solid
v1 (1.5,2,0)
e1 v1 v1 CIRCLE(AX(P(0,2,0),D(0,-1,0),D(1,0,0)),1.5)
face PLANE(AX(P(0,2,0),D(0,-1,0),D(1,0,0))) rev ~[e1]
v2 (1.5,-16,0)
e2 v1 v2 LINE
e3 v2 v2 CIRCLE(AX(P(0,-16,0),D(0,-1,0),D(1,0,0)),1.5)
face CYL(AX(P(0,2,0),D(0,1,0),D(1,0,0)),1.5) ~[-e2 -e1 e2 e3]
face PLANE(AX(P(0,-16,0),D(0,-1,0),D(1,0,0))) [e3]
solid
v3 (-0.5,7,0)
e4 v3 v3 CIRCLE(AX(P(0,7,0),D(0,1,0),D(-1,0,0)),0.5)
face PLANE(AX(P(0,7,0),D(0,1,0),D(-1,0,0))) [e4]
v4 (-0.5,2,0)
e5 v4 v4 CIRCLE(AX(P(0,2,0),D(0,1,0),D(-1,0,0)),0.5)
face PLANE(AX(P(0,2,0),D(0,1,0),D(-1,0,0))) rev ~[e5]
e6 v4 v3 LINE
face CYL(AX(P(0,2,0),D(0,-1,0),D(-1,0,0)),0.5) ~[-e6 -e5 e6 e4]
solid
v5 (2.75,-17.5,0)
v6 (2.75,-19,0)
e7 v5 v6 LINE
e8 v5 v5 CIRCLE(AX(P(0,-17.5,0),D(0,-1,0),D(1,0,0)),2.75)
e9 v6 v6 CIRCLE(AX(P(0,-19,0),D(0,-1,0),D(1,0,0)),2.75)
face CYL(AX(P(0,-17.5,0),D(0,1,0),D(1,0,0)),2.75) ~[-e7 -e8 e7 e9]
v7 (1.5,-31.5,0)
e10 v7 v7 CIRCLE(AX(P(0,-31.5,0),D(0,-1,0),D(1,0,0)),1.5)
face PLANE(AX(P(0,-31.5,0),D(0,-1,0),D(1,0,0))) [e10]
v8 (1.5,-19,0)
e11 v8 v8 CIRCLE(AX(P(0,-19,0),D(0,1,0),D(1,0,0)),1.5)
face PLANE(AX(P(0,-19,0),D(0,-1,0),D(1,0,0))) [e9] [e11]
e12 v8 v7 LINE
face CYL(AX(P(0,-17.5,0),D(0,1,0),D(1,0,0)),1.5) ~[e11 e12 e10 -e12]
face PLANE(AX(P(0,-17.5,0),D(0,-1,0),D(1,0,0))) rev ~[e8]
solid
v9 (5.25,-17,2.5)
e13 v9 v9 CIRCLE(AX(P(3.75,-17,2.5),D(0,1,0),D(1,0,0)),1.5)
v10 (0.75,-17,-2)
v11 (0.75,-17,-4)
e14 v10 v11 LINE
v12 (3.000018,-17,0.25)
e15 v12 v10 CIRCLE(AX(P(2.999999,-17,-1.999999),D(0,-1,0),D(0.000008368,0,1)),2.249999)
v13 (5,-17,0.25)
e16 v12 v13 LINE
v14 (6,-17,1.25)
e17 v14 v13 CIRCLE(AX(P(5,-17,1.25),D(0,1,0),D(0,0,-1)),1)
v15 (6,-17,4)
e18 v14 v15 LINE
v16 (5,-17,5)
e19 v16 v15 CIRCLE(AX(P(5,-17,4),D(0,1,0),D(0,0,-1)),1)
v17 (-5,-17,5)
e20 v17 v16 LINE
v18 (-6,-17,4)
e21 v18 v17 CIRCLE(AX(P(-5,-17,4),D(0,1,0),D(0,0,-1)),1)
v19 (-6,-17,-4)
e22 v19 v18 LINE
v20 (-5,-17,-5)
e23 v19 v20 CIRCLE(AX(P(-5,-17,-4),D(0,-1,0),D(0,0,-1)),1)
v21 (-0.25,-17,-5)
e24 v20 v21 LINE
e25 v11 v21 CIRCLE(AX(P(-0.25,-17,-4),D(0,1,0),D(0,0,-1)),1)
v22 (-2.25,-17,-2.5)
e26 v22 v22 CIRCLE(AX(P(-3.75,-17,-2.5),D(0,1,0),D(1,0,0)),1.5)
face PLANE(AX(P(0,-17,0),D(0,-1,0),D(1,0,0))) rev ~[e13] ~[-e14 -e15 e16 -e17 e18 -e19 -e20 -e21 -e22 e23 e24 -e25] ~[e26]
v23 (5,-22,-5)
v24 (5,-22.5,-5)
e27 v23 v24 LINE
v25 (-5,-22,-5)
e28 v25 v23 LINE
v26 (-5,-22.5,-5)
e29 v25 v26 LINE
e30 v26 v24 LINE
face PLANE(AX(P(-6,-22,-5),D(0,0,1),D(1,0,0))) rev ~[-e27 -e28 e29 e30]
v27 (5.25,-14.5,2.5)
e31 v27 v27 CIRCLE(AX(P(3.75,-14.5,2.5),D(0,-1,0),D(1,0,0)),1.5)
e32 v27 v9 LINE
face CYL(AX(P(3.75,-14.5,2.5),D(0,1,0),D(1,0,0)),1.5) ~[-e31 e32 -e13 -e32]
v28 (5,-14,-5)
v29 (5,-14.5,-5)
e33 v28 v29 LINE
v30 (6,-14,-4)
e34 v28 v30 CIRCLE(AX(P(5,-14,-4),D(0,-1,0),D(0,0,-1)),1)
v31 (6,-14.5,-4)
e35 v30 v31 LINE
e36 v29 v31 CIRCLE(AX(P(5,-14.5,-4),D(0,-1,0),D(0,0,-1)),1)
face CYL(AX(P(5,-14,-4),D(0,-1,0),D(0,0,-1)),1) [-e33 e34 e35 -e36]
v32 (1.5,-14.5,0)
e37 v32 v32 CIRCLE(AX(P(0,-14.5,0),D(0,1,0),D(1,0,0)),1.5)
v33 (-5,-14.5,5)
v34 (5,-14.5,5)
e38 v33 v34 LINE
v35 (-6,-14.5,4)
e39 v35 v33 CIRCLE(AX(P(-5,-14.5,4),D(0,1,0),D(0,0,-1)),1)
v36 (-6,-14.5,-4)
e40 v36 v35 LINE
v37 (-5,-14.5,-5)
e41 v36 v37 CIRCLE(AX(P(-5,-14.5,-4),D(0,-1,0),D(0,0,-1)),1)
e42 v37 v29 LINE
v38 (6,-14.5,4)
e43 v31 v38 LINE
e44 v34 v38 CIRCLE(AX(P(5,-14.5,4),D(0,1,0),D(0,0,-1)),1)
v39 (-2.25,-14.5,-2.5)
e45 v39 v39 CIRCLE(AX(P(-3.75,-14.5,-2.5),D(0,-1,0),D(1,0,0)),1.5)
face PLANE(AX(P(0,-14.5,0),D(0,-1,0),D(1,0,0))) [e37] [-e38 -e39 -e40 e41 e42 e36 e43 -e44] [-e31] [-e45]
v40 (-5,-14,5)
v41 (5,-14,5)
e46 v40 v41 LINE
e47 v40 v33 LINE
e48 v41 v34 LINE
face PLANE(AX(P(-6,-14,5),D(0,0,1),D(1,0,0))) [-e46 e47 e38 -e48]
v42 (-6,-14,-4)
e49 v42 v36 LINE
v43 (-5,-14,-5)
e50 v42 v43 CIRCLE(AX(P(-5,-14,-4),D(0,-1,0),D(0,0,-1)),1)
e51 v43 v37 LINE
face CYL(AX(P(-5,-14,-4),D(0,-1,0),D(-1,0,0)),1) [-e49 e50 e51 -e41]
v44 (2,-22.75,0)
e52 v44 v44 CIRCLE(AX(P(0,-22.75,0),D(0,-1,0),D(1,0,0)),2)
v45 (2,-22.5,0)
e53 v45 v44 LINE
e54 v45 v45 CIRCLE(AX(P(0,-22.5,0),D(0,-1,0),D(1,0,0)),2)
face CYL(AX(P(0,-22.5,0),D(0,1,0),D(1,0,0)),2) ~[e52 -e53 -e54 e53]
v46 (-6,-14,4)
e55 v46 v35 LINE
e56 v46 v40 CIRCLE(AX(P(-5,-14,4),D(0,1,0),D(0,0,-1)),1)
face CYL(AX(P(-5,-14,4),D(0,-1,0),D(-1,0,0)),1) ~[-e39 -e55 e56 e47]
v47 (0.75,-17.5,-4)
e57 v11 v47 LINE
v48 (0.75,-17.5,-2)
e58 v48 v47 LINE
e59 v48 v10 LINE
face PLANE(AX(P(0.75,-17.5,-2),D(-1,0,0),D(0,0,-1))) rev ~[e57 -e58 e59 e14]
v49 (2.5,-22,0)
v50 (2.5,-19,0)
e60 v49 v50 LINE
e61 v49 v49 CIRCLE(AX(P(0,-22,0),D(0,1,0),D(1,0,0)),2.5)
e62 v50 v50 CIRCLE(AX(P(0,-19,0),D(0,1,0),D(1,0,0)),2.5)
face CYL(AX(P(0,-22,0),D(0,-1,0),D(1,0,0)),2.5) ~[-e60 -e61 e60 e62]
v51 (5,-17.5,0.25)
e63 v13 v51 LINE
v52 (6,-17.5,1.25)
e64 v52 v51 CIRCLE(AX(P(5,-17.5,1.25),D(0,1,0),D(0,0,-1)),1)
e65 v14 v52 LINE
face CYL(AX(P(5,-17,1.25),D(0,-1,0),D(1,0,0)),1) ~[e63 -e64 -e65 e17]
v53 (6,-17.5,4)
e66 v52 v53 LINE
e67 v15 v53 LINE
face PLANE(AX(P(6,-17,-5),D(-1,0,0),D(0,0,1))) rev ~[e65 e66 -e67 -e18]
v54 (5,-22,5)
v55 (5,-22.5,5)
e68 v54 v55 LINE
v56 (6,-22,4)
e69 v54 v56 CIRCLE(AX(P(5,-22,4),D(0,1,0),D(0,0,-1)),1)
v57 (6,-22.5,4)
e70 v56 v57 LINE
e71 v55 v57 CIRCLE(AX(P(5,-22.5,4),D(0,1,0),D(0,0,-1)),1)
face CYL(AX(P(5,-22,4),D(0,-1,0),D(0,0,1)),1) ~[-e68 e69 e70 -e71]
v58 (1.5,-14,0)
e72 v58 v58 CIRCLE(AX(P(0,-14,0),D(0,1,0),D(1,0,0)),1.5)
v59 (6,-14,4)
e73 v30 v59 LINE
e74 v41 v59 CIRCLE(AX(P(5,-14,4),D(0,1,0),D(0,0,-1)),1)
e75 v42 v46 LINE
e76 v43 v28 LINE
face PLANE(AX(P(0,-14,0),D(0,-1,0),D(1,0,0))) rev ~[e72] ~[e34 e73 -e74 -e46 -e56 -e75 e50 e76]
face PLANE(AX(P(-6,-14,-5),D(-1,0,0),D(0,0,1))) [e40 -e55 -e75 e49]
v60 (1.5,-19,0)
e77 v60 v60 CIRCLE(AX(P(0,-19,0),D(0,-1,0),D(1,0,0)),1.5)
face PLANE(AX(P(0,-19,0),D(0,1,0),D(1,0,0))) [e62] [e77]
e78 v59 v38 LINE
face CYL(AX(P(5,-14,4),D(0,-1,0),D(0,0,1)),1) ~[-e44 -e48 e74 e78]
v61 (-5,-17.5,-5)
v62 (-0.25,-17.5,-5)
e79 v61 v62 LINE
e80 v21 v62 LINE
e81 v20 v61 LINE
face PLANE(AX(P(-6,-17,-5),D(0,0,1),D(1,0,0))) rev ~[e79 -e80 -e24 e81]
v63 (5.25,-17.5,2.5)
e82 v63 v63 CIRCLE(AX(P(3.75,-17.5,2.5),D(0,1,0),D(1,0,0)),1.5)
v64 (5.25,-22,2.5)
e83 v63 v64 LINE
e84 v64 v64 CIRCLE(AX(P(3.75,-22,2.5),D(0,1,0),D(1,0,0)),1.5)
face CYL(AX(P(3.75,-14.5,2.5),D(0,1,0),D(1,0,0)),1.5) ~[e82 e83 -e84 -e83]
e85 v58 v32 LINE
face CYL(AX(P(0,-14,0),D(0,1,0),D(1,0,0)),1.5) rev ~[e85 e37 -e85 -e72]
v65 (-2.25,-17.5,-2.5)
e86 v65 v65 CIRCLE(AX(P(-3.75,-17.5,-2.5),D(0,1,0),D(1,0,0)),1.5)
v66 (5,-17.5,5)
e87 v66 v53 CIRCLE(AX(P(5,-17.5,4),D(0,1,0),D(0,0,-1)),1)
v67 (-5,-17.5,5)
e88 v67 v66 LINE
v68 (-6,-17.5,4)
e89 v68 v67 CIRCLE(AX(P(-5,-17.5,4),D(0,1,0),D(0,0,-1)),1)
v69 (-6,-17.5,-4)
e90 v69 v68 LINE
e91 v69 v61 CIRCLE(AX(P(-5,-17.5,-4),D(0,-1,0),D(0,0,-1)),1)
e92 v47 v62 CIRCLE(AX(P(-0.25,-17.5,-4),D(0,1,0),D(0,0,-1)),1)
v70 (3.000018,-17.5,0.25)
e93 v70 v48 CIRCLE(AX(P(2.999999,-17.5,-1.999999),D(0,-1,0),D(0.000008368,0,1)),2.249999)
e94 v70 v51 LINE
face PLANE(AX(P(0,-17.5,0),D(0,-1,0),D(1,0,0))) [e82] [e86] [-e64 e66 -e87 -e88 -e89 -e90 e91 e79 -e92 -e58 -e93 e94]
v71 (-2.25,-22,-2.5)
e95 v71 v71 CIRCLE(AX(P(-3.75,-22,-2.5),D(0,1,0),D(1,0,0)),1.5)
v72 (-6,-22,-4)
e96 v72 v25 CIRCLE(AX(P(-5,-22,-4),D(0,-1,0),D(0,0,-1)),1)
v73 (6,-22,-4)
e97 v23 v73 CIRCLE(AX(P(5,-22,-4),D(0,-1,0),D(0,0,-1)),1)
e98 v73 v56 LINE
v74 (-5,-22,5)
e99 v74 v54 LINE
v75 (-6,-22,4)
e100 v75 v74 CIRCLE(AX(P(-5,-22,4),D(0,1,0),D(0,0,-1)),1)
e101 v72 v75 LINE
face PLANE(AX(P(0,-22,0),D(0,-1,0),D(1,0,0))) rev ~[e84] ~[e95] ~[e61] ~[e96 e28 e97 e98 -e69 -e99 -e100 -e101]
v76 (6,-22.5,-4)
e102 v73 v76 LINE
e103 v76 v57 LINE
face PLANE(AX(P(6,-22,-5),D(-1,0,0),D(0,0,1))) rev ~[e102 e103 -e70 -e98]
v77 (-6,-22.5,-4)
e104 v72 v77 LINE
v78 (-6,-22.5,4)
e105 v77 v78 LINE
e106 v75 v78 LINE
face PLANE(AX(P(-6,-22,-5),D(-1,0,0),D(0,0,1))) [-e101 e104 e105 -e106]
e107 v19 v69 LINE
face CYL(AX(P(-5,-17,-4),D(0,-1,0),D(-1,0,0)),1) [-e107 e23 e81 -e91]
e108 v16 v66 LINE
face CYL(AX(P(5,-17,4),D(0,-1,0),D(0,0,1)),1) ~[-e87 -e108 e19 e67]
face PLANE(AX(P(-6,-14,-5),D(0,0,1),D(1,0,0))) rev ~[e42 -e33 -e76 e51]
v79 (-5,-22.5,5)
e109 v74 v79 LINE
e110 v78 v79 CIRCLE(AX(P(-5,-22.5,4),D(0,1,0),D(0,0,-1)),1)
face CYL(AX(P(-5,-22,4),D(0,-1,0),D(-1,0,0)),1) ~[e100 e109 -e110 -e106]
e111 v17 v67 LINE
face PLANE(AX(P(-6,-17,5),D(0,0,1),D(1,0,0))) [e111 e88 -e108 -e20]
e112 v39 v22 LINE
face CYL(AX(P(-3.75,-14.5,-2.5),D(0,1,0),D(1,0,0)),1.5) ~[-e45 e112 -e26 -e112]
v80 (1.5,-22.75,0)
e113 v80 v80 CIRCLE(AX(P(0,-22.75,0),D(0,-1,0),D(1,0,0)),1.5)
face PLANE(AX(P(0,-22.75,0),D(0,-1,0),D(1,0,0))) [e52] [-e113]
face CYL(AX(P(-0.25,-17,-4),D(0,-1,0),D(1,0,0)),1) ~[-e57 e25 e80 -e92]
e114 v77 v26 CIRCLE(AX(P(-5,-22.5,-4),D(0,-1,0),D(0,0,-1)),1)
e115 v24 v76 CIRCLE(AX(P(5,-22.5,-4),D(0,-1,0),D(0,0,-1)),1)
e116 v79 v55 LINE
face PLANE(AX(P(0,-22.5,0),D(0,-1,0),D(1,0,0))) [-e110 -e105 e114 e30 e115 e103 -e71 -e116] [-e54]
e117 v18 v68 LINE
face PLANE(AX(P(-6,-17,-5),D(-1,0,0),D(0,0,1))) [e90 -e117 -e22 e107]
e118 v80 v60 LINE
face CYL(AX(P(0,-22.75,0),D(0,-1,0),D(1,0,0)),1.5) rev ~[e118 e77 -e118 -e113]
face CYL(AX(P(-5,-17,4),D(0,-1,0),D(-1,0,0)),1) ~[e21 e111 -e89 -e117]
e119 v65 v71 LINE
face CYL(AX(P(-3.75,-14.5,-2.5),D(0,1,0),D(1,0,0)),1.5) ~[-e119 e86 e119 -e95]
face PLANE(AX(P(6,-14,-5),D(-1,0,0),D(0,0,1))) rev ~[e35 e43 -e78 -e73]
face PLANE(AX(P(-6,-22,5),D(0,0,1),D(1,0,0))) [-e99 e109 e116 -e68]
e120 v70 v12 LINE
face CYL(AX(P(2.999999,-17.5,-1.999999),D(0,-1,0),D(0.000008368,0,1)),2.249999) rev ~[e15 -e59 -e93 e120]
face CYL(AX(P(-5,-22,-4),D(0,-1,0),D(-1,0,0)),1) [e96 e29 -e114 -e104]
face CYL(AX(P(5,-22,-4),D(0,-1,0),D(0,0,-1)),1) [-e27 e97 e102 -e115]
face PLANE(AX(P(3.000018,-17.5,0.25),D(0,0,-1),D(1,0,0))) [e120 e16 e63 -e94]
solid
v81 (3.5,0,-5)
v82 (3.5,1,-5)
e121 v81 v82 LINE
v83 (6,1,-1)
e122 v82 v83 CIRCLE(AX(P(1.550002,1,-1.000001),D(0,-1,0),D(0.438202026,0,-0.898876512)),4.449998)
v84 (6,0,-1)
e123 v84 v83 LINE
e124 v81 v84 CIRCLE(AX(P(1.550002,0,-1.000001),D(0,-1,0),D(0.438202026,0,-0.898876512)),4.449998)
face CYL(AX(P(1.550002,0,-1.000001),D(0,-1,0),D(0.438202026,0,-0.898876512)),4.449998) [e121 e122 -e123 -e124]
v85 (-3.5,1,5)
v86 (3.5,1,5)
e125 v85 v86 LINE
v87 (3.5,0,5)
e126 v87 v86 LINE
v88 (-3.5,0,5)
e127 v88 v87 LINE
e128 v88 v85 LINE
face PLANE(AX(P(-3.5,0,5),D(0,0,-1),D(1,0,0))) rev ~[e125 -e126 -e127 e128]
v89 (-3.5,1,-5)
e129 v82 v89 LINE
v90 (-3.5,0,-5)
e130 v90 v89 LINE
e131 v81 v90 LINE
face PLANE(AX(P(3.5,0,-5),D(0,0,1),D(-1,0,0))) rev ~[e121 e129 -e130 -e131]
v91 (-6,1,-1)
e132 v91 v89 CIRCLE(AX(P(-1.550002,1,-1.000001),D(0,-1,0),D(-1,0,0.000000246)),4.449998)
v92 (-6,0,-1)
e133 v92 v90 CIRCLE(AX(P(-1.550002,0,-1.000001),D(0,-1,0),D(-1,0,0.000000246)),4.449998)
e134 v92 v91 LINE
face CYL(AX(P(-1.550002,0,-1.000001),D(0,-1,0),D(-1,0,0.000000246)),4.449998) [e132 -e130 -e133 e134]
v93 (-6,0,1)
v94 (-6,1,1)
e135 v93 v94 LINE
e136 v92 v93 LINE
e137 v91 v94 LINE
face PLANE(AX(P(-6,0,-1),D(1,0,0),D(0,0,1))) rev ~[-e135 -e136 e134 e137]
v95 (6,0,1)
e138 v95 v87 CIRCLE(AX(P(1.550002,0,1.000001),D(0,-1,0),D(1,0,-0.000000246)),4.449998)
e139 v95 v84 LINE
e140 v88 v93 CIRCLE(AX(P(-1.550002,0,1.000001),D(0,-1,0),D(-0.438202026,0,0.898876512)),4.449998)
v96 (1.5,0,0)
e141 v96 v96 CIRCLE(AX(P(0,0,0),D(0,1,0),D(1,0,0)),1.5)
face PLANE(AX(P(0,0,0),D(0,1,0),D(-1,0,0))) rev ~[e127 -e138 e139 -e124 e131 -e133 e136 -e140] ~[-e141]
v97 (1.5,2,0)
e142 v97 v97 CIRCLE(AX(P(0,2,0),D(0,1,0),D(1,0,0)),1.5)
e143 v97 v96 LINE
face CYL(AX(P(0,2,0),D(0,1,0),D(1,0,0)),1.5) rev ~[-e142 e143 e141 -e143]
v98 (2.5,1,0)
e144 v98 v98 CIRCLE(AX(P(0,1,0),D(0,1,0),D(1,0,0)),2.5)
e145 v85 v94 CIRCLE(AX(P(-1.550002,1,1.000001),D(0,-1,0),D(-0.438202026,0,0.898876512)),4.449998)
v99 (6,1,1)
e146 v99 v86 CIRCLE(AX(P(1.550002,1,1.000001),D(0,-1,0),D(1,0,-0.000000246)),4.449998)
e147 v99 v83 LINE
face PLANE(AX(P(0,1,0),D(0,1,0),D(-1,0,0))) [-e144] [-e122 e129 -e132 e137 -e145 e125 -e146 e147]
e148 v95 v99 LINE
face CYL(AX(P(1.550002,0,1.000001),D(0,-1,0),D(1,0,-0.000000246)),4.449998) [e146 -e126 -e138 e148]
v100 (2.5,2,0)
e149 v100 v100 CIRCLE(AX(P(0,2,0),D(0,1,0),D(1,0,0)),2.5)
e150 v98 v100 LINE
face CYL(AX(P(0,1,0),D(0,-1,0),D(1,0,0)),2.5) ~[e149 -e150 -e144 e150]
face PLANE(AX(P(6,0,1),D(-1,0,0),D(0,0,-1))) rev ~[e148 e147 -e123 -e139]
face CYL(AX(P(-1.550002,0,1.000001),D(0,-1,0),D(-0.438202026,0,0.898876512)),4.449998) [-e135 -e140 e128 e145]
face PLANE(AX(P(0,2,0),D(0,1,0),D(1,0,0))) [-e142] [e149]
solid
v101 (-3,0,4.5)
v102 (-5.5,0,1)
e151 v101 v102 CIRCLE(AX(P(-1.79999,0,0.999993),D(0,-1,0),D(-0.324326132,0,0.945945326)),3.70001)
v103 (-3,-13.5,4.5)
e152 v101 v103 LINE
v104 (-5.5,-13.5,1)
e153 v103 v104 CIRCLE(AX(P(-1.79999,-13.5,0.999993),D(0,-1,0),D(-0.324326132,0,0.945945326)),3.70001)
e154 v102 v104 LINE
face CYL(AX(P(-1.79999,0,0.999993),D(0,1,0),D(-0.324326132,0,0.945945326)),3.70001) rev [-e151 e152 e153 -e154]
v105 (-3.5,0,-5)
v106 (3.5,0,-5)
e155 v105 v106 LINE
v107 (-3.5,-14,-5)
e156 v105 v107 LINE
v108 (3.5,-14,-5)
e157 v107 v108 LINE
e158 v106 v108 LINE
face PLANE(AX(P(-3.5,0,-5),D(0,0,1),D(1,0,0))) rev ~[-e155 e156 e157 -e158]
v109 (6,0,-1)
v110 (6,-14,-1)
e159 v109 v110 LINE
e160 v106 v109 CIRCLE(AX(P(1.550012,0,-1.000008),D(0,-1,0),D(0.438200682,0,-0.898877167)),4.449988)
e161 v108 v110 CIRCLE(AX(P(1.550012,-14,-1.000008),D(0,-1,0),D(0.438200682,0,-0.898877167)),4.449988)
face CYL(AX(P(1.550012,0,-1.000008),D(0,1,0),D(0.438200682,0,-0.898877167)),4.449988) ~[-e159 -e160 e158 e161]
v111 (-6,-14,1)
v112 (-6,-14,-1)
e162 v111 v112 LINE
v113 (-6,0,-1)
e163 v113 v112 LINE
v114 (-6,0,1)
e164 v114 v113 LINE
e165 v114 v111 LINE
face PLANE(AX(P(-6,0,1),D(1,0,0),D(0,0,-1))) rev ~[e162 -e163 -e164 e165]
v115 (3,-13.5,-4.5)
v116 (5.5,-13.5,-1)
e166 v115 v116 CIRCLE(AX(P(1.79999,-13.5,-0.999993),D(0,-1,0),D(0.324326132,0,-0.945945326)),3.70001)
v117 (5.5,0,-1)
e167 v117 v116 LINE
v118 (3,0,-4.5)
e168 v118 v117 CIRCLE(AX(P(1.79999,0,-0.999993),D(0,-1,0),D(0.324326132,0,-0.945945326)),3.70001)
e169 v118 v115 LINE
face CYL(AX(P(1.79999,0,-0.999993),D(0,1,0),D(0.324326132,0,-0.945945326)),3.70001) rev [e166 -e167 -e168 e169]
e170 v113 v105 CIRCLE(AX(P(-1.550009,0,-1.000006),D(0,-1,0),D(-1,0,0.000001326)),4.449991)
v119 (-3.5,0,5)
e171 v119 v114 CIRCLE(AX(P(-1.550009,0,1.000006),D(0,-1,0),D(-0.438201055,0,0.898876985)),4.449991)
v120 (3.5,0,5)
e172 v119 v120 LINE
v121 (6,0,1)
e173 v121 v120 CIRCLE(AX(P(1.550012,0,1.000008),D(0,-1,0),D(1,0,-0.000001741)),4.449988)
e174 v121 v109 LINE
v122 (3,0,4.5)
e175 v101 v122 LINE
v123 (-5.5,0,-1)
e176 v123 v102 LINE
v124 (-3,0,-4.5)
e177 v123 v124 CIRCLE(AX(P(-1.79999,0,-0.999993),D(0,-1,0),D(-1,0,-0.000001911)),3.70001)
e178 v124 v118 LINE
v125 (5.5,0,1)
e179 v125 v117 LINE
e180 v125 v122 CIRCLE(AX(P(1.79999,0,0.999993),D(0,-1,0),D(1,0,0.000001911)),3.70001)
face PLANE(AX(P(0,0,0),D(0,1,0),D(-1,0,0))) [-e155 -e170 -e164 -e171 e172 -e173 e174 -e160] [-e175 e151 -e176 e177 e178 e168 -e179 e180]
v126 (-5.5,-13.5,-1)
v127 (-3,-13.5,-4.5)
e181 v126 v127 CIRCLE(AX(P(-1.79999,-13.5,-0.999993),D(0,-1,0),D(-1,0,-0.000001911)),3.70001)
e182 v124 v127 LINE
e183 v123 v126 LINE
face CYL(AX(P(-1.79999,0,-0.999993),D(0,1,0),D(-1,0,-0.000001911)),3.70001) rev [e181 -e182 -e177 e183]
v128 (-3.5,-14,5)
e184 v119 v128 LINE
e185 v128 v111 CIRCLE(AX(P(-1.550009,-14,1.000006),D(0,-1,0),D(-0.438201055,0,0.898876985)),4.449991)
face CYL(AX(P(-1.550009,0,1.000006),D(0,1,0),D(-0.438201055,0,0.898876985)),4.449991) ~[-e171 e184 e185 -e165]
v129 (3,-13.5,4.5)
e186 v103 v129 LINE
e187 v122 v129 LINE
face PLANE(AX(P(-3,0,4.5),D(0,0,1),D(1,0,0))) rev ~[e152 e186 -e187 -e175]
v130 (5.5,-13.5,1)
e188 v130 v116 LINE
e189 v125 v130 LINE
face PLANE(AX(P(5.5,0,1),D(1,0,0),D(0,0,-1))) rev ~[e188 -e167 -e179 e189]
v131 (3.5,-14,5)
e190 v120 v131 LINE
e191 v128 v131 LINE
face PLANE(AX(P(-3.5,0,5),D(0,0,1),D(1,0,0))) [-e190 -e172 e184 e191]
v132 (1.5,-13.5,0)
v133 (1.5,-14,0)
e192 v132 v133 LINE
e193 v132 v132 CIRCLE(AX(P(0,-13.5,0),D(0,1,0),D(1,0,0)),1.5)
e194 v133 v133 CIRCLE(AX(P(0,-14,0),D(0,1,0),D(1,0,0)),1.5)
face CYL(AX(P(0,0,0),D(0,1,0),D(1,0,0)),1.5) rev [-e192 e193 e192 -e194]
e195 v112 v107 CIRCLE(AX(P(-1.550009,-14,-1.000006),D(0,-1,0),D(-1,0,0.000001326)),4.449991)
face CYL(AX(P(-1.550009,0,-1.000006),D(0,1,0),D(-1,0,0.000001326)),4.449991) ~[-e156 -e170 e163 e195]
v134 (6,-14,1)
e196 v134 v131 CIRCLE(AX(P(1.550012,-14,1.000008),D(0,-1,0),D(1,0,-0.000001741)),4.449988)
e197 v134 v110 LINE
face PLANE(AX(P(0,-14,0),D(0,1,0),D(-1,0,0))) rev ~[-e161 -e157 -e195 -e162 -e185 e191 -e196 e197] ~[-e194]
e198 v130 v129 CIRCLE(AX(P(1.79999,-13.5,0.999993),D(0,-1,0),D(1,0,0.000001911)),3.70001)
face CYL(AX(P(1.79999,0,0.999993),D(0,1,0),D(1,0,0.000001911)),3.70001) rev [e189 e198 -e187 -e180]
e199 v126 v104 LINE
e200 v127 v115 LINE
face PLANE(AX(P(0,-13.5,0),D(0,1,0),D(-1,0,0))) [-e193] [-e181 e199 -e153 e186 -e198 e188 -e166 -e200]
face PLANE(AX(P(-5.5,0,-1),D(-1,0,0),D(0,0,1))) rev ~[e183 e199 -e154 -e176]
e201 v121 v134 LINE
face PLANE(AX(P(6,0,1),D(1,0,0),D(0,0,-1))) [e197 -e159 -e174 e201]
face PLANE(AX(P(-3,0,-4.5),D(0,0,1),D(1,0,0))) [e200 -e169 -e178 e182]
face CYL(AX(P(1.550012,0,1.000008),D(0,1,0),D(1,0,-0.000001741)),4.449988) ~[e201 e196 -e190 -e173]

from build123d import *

# Parameters (mm, degrees)
PAD_DEPTH       = 14
POCKET_DEPTH    = 13.5
SKETCH002_R     = 1.5
POCKET001_DEPTH = 14.001
PAD001_DEPTH    = 1
SKETCH004_R     = 2.5
PAD002_DEPTH    = 1
SKETCH005_R     = 1.5
POCKET002_DEPTH = 2.001
SKETCH006_W     = 12
SKETCH006_H     = 10
PAD003_DEPTH    = 0.5
SKETCH007_R     = 1.5
PAD004_DEPTH    = 7.7
SKETCH008_W     = 12
SKETCH008_H     = 10
PAD005_DEPTH    = 0.5
SKETCH009_W     = 12
SKETCH009_H     = 10
PAD006_DEPTH    = 0.5
SKETCH010_R     = 2
PAD007_DEPTH    = 0.25
SKETCH011_R     = 2.5
PAD008_DEPTH    = 3
SKETCH012_R     = 1.5
POCKET003_DEPTH = 5
POCKET004_DEPTH = 1
FILLET_R        = 1
SKETCH014_R     = 1.5
POCKET005_DEPTH = 2
SKETCH015_R     = 1.5
PAD009_DEPTH    = 18
SKETCH016_R     = 1.5
PAD010_DEPTH    = 14
SKETCH017_R     = 2.75
PAD011_DEPTH    = 1.5
SKETCH021_R     = 0.5
PAD014_DEPTH    = 5


with BuildPart() as motorshell:
    # Sketch → Pad (new body)
    with BuildSketch(Plane.XZ):
        with BuildLine():
            Line((-3.5, 5), (3.5, 5))
            ThreePointArc((6, 1), (5.323594, 3.358497), (3.5, 5))
            Line((6, 1), (6, -1))
            ThreePointArc((3.5, -5), (5.323594, -3.358497), (6, -1))
            Line((-3.5, -5), (3.5, -5))
            ThreePointArc((-6, -1), (-5.323594, -3.358496), (-3.5, -5))
            Line((-6, 1), (-6, -1))
            ThreePointArc((-3.5, 5), (-5.323594, 3.358496), (-6, 1))
        make_face()
    extrude(amount=PAD_DEPTH)

    # Sketch001 → Pocket (cut)
    with BuildSketch(Plane.XZ):
        with BuildLine():
            Line((-3, 4.5), (3, 4.5))
            ThreePointArc((5.5, 1), (4.810812, 3.15058), (3, 4.5))
            Line((5.5, 1), (5.5, -1))
            ThreePointArc((3, -4.5), (4.810812, -3.15058), (5.5, -1))
            Line((-3, -4.5), (3, -4.5))
            ThreePointArc((-5.5, -1), (-4.810812, -3.15058), (-3, -4.5))
            Line((-5.5, -1), (-5.5, 1))
            ThreePointArc((-3, 4.5), (-4.810812, 3.15058), (-5.5, 1))
        make_face()
    extrude(amount=POCKET_DEPTH, mode=Mode.SUBTRACT)

    # Sketch002 → Pocket001 (cut, through all)
    with BuildSketch(Plane.XZ):
        Circle(SKETCH002_R)
    extrude(amount=POCKET001_DEPTH, mode=Mode.SUBTRACT)


with BuildPart() as backplate:
    # Sketch003 → Pad001 (new body)
    with BuildSketch(Plane.XZ):
        with BuildLine():
            Line((-3.5, 5), (3.5, 5))
            ThreePointArc((6, 1), (5.323593, 3.358495), (3.5, 5))
            Line((6, 1), (6, -1))
            ThreePointArc((3.5, -5), (5.323593, -3.358495), (6, -1))
            Line((3.5, -5), (-3.5, -5))
            ThreePointArc((-6, -1), (-5.323593, -3.358495), (-3.5, -5))
            Line((-6, -1), (-6, 1))
            ThreePointArc((-3.5, 5), (-5.323593, 3.358495), (-6, 1))
        make_face()
    extrude(amount=-PAD001_DEPTH)

    # Sketch004 (on Face10 of Pad001) → Pad002 (join)
    with BuildSketch(Plane(origin=(0, 1, 0), x_dir=(1, 0, 0), z_dir=(0, 1, 0))):
        Circle(SKETCH004_R)
    extrude(amount=PAD002_DEPTH)

    # Sketch005 (on Face12 of Pad002) → Pocket002 (cut, through all)
    with BuildSketch(Plane(origin=(0, 2, 0), x_dir=(1, 0, 0), z_dir=(0, 1, 0))):
        Circle(SKETCH005_R)
    extrude(amount=-POCKET002_DEPTH, mode=Mode.SUBTRACT)


with BuildPart() as gearplates:
    # Sketch006 (on DatumPlane) → Pad003 (new body)
    with BuildSketch(Plane.XZ.offset(14)):
        Rectangle(SKETCH006_W, SKETCH006_H)
    extrude(amount=PAD003_DEPTH)

    # Sketch007 (on Face6 of Pad003) → Pad004 (join)
    with BuildSketch(Plane.XZ.offset(14.5)):
        with Locations((3.75, 2.5)):
            Circle(SKETCH007_R)
        with Locations((-3.75, -2.5)):
            Circle(SKETCH007_R)
    extrude(amount=PAD004_DEPTH)

    # Sketch008 (on DatumPlane) → Pad005 (join)
    with BuildSketch(Plane.XZ.offset(17)):
        Rectangle(SKETCH008_W, SKETCH008_H)
    extrude(amount=PAD005_DEPTH)

    # Sketch009 (on DatumPlane) → Pad006 (join)
    with BuildSketch(Plane.XZ.offset(22)):
        Rectangle(SKETCH009_W, SKETCH009_H)
    extrude(amount=PAD006_DEPTH)

    # Sketch010 (on Face22 of Pad006) → Pad007 (join)
    with BuildSketch(Plane.XZ.offset(22.5)):
        Circle(SKETCH010_R)
    extrude(amount=PAD007_DEPTH)

    # Sketch011 (on Face17 of Pad007) → Pad008 (join)
    with BuildSketch(Plane(origin=(0, -22, 0), x_dir=(1, 0, 0), z_dir=(0, 1, 0))):
        Circle(SKETCH011_R)
    extrude(amount=PAD008_DEPTH)

    # Sketch012 (on Face26 of Pad008) → Pocket003 (cut)
    with BuildSketch(Plane.XZ.offset(22.75)):
        Circle(SKETCH012_R)
    extrude(amount=-POCKET003_DEPTH, mode=Mode.SUBTRACT)

    # Sketch013 (on Face14 of Pocket003) → Pocket004 (cut)
    with BuildSketch(Plane.XZ.offset(17.5)):
        with BuildLine():
            Line((7.000018, 0.25), (7.000018, -6))
            Line((7.000018, -6), (0.75, -6))
            Line((0.75, -2), (0.75, -6))
            ThreePointArc((3.000018, 0.25), (1.409016, -0.409003), (0.75, -2))
            Line((3.000018, 0.25), (7.000018, 0.25))
        make_face()
    extrude(amount=-POCKET004_DEPTH, mode=Mode.SUBTRACT)

    # Fillet
    fillet_edges = [gearplates.edges().sort_by_distance(p)[0] for p in [
        (6, -22.25, 5),
        (6, -17.25, 5),
        (6, -14.25, 5),
        (-6, -22.25, 5),
        (-6, -17.25, 5),
        (-6, -14.25, 5),
        (-6, -22.25, -5),
        (-6, -17.25, -5),
        (-6, -14.25, -5),
        (6, -22.25, -5),
        (6, -14.25, -5),
        (6, -17.25, 0.25),
        (0.75, -17.25, -5),
    ]]
    fillet(fillet_edges, radius=FILLET_R)

    # Sketch014 (on Face2 of Fillet) → Pocket005 (cut)
    with BuildSketch(Plane(origin=(0, -14, 0), x_dir=(1, 0, 0), z_dir=(0, 1, 0))):
        Circle(SKETCH014_R)
    extrude(amount=-POCKET005_DEPTH, mode=Mode.SUBTRACT)


with BuildPart() as motorshaft:
    # Sketch015 (on DatumPlane) → Pad009 (new body)
    with BuildSketch(Plane.XZ.offset(-2)):
        Circle(SKETCH015_R)
    extrude(amount=PAD009_DEPTH)


with BuildPart() as wheelshaft:
    # Sketch016 (on DatumPlane) → Pad010 (new body)
    with BuildSketch(Plane.XZ.offset(17.5)):
        Circle(SKETCH016_R)
    extrude(amount=PAD010_DEPTH)

    # Sketch017 (on DatumPlane) → Pad011 (join)
    with BuildSketch(Plane.XZ.offset(17.5)):
        Circle(SKETCH017_R)
    extrude(amount=PAD011_DEPTH)


with BuildPart() as extendedbackshaft:
    # Sketch021 (on Face1 of CopyPad009) → Pad014 (new body)
    with BuildSketch(Plane(origin=(0, 2, 0), x_dir=(-1, 0, 0), z_dir=(0, 1, 0))):
        Circle(SKETCH021_R)
    extrude(amount=PAD014_DEPTH)


solid = Compound([motorshell.part, backplate.part, gearplates.part, motorshaft.part, wheelshaft.part, extendedbackshaft.part])
